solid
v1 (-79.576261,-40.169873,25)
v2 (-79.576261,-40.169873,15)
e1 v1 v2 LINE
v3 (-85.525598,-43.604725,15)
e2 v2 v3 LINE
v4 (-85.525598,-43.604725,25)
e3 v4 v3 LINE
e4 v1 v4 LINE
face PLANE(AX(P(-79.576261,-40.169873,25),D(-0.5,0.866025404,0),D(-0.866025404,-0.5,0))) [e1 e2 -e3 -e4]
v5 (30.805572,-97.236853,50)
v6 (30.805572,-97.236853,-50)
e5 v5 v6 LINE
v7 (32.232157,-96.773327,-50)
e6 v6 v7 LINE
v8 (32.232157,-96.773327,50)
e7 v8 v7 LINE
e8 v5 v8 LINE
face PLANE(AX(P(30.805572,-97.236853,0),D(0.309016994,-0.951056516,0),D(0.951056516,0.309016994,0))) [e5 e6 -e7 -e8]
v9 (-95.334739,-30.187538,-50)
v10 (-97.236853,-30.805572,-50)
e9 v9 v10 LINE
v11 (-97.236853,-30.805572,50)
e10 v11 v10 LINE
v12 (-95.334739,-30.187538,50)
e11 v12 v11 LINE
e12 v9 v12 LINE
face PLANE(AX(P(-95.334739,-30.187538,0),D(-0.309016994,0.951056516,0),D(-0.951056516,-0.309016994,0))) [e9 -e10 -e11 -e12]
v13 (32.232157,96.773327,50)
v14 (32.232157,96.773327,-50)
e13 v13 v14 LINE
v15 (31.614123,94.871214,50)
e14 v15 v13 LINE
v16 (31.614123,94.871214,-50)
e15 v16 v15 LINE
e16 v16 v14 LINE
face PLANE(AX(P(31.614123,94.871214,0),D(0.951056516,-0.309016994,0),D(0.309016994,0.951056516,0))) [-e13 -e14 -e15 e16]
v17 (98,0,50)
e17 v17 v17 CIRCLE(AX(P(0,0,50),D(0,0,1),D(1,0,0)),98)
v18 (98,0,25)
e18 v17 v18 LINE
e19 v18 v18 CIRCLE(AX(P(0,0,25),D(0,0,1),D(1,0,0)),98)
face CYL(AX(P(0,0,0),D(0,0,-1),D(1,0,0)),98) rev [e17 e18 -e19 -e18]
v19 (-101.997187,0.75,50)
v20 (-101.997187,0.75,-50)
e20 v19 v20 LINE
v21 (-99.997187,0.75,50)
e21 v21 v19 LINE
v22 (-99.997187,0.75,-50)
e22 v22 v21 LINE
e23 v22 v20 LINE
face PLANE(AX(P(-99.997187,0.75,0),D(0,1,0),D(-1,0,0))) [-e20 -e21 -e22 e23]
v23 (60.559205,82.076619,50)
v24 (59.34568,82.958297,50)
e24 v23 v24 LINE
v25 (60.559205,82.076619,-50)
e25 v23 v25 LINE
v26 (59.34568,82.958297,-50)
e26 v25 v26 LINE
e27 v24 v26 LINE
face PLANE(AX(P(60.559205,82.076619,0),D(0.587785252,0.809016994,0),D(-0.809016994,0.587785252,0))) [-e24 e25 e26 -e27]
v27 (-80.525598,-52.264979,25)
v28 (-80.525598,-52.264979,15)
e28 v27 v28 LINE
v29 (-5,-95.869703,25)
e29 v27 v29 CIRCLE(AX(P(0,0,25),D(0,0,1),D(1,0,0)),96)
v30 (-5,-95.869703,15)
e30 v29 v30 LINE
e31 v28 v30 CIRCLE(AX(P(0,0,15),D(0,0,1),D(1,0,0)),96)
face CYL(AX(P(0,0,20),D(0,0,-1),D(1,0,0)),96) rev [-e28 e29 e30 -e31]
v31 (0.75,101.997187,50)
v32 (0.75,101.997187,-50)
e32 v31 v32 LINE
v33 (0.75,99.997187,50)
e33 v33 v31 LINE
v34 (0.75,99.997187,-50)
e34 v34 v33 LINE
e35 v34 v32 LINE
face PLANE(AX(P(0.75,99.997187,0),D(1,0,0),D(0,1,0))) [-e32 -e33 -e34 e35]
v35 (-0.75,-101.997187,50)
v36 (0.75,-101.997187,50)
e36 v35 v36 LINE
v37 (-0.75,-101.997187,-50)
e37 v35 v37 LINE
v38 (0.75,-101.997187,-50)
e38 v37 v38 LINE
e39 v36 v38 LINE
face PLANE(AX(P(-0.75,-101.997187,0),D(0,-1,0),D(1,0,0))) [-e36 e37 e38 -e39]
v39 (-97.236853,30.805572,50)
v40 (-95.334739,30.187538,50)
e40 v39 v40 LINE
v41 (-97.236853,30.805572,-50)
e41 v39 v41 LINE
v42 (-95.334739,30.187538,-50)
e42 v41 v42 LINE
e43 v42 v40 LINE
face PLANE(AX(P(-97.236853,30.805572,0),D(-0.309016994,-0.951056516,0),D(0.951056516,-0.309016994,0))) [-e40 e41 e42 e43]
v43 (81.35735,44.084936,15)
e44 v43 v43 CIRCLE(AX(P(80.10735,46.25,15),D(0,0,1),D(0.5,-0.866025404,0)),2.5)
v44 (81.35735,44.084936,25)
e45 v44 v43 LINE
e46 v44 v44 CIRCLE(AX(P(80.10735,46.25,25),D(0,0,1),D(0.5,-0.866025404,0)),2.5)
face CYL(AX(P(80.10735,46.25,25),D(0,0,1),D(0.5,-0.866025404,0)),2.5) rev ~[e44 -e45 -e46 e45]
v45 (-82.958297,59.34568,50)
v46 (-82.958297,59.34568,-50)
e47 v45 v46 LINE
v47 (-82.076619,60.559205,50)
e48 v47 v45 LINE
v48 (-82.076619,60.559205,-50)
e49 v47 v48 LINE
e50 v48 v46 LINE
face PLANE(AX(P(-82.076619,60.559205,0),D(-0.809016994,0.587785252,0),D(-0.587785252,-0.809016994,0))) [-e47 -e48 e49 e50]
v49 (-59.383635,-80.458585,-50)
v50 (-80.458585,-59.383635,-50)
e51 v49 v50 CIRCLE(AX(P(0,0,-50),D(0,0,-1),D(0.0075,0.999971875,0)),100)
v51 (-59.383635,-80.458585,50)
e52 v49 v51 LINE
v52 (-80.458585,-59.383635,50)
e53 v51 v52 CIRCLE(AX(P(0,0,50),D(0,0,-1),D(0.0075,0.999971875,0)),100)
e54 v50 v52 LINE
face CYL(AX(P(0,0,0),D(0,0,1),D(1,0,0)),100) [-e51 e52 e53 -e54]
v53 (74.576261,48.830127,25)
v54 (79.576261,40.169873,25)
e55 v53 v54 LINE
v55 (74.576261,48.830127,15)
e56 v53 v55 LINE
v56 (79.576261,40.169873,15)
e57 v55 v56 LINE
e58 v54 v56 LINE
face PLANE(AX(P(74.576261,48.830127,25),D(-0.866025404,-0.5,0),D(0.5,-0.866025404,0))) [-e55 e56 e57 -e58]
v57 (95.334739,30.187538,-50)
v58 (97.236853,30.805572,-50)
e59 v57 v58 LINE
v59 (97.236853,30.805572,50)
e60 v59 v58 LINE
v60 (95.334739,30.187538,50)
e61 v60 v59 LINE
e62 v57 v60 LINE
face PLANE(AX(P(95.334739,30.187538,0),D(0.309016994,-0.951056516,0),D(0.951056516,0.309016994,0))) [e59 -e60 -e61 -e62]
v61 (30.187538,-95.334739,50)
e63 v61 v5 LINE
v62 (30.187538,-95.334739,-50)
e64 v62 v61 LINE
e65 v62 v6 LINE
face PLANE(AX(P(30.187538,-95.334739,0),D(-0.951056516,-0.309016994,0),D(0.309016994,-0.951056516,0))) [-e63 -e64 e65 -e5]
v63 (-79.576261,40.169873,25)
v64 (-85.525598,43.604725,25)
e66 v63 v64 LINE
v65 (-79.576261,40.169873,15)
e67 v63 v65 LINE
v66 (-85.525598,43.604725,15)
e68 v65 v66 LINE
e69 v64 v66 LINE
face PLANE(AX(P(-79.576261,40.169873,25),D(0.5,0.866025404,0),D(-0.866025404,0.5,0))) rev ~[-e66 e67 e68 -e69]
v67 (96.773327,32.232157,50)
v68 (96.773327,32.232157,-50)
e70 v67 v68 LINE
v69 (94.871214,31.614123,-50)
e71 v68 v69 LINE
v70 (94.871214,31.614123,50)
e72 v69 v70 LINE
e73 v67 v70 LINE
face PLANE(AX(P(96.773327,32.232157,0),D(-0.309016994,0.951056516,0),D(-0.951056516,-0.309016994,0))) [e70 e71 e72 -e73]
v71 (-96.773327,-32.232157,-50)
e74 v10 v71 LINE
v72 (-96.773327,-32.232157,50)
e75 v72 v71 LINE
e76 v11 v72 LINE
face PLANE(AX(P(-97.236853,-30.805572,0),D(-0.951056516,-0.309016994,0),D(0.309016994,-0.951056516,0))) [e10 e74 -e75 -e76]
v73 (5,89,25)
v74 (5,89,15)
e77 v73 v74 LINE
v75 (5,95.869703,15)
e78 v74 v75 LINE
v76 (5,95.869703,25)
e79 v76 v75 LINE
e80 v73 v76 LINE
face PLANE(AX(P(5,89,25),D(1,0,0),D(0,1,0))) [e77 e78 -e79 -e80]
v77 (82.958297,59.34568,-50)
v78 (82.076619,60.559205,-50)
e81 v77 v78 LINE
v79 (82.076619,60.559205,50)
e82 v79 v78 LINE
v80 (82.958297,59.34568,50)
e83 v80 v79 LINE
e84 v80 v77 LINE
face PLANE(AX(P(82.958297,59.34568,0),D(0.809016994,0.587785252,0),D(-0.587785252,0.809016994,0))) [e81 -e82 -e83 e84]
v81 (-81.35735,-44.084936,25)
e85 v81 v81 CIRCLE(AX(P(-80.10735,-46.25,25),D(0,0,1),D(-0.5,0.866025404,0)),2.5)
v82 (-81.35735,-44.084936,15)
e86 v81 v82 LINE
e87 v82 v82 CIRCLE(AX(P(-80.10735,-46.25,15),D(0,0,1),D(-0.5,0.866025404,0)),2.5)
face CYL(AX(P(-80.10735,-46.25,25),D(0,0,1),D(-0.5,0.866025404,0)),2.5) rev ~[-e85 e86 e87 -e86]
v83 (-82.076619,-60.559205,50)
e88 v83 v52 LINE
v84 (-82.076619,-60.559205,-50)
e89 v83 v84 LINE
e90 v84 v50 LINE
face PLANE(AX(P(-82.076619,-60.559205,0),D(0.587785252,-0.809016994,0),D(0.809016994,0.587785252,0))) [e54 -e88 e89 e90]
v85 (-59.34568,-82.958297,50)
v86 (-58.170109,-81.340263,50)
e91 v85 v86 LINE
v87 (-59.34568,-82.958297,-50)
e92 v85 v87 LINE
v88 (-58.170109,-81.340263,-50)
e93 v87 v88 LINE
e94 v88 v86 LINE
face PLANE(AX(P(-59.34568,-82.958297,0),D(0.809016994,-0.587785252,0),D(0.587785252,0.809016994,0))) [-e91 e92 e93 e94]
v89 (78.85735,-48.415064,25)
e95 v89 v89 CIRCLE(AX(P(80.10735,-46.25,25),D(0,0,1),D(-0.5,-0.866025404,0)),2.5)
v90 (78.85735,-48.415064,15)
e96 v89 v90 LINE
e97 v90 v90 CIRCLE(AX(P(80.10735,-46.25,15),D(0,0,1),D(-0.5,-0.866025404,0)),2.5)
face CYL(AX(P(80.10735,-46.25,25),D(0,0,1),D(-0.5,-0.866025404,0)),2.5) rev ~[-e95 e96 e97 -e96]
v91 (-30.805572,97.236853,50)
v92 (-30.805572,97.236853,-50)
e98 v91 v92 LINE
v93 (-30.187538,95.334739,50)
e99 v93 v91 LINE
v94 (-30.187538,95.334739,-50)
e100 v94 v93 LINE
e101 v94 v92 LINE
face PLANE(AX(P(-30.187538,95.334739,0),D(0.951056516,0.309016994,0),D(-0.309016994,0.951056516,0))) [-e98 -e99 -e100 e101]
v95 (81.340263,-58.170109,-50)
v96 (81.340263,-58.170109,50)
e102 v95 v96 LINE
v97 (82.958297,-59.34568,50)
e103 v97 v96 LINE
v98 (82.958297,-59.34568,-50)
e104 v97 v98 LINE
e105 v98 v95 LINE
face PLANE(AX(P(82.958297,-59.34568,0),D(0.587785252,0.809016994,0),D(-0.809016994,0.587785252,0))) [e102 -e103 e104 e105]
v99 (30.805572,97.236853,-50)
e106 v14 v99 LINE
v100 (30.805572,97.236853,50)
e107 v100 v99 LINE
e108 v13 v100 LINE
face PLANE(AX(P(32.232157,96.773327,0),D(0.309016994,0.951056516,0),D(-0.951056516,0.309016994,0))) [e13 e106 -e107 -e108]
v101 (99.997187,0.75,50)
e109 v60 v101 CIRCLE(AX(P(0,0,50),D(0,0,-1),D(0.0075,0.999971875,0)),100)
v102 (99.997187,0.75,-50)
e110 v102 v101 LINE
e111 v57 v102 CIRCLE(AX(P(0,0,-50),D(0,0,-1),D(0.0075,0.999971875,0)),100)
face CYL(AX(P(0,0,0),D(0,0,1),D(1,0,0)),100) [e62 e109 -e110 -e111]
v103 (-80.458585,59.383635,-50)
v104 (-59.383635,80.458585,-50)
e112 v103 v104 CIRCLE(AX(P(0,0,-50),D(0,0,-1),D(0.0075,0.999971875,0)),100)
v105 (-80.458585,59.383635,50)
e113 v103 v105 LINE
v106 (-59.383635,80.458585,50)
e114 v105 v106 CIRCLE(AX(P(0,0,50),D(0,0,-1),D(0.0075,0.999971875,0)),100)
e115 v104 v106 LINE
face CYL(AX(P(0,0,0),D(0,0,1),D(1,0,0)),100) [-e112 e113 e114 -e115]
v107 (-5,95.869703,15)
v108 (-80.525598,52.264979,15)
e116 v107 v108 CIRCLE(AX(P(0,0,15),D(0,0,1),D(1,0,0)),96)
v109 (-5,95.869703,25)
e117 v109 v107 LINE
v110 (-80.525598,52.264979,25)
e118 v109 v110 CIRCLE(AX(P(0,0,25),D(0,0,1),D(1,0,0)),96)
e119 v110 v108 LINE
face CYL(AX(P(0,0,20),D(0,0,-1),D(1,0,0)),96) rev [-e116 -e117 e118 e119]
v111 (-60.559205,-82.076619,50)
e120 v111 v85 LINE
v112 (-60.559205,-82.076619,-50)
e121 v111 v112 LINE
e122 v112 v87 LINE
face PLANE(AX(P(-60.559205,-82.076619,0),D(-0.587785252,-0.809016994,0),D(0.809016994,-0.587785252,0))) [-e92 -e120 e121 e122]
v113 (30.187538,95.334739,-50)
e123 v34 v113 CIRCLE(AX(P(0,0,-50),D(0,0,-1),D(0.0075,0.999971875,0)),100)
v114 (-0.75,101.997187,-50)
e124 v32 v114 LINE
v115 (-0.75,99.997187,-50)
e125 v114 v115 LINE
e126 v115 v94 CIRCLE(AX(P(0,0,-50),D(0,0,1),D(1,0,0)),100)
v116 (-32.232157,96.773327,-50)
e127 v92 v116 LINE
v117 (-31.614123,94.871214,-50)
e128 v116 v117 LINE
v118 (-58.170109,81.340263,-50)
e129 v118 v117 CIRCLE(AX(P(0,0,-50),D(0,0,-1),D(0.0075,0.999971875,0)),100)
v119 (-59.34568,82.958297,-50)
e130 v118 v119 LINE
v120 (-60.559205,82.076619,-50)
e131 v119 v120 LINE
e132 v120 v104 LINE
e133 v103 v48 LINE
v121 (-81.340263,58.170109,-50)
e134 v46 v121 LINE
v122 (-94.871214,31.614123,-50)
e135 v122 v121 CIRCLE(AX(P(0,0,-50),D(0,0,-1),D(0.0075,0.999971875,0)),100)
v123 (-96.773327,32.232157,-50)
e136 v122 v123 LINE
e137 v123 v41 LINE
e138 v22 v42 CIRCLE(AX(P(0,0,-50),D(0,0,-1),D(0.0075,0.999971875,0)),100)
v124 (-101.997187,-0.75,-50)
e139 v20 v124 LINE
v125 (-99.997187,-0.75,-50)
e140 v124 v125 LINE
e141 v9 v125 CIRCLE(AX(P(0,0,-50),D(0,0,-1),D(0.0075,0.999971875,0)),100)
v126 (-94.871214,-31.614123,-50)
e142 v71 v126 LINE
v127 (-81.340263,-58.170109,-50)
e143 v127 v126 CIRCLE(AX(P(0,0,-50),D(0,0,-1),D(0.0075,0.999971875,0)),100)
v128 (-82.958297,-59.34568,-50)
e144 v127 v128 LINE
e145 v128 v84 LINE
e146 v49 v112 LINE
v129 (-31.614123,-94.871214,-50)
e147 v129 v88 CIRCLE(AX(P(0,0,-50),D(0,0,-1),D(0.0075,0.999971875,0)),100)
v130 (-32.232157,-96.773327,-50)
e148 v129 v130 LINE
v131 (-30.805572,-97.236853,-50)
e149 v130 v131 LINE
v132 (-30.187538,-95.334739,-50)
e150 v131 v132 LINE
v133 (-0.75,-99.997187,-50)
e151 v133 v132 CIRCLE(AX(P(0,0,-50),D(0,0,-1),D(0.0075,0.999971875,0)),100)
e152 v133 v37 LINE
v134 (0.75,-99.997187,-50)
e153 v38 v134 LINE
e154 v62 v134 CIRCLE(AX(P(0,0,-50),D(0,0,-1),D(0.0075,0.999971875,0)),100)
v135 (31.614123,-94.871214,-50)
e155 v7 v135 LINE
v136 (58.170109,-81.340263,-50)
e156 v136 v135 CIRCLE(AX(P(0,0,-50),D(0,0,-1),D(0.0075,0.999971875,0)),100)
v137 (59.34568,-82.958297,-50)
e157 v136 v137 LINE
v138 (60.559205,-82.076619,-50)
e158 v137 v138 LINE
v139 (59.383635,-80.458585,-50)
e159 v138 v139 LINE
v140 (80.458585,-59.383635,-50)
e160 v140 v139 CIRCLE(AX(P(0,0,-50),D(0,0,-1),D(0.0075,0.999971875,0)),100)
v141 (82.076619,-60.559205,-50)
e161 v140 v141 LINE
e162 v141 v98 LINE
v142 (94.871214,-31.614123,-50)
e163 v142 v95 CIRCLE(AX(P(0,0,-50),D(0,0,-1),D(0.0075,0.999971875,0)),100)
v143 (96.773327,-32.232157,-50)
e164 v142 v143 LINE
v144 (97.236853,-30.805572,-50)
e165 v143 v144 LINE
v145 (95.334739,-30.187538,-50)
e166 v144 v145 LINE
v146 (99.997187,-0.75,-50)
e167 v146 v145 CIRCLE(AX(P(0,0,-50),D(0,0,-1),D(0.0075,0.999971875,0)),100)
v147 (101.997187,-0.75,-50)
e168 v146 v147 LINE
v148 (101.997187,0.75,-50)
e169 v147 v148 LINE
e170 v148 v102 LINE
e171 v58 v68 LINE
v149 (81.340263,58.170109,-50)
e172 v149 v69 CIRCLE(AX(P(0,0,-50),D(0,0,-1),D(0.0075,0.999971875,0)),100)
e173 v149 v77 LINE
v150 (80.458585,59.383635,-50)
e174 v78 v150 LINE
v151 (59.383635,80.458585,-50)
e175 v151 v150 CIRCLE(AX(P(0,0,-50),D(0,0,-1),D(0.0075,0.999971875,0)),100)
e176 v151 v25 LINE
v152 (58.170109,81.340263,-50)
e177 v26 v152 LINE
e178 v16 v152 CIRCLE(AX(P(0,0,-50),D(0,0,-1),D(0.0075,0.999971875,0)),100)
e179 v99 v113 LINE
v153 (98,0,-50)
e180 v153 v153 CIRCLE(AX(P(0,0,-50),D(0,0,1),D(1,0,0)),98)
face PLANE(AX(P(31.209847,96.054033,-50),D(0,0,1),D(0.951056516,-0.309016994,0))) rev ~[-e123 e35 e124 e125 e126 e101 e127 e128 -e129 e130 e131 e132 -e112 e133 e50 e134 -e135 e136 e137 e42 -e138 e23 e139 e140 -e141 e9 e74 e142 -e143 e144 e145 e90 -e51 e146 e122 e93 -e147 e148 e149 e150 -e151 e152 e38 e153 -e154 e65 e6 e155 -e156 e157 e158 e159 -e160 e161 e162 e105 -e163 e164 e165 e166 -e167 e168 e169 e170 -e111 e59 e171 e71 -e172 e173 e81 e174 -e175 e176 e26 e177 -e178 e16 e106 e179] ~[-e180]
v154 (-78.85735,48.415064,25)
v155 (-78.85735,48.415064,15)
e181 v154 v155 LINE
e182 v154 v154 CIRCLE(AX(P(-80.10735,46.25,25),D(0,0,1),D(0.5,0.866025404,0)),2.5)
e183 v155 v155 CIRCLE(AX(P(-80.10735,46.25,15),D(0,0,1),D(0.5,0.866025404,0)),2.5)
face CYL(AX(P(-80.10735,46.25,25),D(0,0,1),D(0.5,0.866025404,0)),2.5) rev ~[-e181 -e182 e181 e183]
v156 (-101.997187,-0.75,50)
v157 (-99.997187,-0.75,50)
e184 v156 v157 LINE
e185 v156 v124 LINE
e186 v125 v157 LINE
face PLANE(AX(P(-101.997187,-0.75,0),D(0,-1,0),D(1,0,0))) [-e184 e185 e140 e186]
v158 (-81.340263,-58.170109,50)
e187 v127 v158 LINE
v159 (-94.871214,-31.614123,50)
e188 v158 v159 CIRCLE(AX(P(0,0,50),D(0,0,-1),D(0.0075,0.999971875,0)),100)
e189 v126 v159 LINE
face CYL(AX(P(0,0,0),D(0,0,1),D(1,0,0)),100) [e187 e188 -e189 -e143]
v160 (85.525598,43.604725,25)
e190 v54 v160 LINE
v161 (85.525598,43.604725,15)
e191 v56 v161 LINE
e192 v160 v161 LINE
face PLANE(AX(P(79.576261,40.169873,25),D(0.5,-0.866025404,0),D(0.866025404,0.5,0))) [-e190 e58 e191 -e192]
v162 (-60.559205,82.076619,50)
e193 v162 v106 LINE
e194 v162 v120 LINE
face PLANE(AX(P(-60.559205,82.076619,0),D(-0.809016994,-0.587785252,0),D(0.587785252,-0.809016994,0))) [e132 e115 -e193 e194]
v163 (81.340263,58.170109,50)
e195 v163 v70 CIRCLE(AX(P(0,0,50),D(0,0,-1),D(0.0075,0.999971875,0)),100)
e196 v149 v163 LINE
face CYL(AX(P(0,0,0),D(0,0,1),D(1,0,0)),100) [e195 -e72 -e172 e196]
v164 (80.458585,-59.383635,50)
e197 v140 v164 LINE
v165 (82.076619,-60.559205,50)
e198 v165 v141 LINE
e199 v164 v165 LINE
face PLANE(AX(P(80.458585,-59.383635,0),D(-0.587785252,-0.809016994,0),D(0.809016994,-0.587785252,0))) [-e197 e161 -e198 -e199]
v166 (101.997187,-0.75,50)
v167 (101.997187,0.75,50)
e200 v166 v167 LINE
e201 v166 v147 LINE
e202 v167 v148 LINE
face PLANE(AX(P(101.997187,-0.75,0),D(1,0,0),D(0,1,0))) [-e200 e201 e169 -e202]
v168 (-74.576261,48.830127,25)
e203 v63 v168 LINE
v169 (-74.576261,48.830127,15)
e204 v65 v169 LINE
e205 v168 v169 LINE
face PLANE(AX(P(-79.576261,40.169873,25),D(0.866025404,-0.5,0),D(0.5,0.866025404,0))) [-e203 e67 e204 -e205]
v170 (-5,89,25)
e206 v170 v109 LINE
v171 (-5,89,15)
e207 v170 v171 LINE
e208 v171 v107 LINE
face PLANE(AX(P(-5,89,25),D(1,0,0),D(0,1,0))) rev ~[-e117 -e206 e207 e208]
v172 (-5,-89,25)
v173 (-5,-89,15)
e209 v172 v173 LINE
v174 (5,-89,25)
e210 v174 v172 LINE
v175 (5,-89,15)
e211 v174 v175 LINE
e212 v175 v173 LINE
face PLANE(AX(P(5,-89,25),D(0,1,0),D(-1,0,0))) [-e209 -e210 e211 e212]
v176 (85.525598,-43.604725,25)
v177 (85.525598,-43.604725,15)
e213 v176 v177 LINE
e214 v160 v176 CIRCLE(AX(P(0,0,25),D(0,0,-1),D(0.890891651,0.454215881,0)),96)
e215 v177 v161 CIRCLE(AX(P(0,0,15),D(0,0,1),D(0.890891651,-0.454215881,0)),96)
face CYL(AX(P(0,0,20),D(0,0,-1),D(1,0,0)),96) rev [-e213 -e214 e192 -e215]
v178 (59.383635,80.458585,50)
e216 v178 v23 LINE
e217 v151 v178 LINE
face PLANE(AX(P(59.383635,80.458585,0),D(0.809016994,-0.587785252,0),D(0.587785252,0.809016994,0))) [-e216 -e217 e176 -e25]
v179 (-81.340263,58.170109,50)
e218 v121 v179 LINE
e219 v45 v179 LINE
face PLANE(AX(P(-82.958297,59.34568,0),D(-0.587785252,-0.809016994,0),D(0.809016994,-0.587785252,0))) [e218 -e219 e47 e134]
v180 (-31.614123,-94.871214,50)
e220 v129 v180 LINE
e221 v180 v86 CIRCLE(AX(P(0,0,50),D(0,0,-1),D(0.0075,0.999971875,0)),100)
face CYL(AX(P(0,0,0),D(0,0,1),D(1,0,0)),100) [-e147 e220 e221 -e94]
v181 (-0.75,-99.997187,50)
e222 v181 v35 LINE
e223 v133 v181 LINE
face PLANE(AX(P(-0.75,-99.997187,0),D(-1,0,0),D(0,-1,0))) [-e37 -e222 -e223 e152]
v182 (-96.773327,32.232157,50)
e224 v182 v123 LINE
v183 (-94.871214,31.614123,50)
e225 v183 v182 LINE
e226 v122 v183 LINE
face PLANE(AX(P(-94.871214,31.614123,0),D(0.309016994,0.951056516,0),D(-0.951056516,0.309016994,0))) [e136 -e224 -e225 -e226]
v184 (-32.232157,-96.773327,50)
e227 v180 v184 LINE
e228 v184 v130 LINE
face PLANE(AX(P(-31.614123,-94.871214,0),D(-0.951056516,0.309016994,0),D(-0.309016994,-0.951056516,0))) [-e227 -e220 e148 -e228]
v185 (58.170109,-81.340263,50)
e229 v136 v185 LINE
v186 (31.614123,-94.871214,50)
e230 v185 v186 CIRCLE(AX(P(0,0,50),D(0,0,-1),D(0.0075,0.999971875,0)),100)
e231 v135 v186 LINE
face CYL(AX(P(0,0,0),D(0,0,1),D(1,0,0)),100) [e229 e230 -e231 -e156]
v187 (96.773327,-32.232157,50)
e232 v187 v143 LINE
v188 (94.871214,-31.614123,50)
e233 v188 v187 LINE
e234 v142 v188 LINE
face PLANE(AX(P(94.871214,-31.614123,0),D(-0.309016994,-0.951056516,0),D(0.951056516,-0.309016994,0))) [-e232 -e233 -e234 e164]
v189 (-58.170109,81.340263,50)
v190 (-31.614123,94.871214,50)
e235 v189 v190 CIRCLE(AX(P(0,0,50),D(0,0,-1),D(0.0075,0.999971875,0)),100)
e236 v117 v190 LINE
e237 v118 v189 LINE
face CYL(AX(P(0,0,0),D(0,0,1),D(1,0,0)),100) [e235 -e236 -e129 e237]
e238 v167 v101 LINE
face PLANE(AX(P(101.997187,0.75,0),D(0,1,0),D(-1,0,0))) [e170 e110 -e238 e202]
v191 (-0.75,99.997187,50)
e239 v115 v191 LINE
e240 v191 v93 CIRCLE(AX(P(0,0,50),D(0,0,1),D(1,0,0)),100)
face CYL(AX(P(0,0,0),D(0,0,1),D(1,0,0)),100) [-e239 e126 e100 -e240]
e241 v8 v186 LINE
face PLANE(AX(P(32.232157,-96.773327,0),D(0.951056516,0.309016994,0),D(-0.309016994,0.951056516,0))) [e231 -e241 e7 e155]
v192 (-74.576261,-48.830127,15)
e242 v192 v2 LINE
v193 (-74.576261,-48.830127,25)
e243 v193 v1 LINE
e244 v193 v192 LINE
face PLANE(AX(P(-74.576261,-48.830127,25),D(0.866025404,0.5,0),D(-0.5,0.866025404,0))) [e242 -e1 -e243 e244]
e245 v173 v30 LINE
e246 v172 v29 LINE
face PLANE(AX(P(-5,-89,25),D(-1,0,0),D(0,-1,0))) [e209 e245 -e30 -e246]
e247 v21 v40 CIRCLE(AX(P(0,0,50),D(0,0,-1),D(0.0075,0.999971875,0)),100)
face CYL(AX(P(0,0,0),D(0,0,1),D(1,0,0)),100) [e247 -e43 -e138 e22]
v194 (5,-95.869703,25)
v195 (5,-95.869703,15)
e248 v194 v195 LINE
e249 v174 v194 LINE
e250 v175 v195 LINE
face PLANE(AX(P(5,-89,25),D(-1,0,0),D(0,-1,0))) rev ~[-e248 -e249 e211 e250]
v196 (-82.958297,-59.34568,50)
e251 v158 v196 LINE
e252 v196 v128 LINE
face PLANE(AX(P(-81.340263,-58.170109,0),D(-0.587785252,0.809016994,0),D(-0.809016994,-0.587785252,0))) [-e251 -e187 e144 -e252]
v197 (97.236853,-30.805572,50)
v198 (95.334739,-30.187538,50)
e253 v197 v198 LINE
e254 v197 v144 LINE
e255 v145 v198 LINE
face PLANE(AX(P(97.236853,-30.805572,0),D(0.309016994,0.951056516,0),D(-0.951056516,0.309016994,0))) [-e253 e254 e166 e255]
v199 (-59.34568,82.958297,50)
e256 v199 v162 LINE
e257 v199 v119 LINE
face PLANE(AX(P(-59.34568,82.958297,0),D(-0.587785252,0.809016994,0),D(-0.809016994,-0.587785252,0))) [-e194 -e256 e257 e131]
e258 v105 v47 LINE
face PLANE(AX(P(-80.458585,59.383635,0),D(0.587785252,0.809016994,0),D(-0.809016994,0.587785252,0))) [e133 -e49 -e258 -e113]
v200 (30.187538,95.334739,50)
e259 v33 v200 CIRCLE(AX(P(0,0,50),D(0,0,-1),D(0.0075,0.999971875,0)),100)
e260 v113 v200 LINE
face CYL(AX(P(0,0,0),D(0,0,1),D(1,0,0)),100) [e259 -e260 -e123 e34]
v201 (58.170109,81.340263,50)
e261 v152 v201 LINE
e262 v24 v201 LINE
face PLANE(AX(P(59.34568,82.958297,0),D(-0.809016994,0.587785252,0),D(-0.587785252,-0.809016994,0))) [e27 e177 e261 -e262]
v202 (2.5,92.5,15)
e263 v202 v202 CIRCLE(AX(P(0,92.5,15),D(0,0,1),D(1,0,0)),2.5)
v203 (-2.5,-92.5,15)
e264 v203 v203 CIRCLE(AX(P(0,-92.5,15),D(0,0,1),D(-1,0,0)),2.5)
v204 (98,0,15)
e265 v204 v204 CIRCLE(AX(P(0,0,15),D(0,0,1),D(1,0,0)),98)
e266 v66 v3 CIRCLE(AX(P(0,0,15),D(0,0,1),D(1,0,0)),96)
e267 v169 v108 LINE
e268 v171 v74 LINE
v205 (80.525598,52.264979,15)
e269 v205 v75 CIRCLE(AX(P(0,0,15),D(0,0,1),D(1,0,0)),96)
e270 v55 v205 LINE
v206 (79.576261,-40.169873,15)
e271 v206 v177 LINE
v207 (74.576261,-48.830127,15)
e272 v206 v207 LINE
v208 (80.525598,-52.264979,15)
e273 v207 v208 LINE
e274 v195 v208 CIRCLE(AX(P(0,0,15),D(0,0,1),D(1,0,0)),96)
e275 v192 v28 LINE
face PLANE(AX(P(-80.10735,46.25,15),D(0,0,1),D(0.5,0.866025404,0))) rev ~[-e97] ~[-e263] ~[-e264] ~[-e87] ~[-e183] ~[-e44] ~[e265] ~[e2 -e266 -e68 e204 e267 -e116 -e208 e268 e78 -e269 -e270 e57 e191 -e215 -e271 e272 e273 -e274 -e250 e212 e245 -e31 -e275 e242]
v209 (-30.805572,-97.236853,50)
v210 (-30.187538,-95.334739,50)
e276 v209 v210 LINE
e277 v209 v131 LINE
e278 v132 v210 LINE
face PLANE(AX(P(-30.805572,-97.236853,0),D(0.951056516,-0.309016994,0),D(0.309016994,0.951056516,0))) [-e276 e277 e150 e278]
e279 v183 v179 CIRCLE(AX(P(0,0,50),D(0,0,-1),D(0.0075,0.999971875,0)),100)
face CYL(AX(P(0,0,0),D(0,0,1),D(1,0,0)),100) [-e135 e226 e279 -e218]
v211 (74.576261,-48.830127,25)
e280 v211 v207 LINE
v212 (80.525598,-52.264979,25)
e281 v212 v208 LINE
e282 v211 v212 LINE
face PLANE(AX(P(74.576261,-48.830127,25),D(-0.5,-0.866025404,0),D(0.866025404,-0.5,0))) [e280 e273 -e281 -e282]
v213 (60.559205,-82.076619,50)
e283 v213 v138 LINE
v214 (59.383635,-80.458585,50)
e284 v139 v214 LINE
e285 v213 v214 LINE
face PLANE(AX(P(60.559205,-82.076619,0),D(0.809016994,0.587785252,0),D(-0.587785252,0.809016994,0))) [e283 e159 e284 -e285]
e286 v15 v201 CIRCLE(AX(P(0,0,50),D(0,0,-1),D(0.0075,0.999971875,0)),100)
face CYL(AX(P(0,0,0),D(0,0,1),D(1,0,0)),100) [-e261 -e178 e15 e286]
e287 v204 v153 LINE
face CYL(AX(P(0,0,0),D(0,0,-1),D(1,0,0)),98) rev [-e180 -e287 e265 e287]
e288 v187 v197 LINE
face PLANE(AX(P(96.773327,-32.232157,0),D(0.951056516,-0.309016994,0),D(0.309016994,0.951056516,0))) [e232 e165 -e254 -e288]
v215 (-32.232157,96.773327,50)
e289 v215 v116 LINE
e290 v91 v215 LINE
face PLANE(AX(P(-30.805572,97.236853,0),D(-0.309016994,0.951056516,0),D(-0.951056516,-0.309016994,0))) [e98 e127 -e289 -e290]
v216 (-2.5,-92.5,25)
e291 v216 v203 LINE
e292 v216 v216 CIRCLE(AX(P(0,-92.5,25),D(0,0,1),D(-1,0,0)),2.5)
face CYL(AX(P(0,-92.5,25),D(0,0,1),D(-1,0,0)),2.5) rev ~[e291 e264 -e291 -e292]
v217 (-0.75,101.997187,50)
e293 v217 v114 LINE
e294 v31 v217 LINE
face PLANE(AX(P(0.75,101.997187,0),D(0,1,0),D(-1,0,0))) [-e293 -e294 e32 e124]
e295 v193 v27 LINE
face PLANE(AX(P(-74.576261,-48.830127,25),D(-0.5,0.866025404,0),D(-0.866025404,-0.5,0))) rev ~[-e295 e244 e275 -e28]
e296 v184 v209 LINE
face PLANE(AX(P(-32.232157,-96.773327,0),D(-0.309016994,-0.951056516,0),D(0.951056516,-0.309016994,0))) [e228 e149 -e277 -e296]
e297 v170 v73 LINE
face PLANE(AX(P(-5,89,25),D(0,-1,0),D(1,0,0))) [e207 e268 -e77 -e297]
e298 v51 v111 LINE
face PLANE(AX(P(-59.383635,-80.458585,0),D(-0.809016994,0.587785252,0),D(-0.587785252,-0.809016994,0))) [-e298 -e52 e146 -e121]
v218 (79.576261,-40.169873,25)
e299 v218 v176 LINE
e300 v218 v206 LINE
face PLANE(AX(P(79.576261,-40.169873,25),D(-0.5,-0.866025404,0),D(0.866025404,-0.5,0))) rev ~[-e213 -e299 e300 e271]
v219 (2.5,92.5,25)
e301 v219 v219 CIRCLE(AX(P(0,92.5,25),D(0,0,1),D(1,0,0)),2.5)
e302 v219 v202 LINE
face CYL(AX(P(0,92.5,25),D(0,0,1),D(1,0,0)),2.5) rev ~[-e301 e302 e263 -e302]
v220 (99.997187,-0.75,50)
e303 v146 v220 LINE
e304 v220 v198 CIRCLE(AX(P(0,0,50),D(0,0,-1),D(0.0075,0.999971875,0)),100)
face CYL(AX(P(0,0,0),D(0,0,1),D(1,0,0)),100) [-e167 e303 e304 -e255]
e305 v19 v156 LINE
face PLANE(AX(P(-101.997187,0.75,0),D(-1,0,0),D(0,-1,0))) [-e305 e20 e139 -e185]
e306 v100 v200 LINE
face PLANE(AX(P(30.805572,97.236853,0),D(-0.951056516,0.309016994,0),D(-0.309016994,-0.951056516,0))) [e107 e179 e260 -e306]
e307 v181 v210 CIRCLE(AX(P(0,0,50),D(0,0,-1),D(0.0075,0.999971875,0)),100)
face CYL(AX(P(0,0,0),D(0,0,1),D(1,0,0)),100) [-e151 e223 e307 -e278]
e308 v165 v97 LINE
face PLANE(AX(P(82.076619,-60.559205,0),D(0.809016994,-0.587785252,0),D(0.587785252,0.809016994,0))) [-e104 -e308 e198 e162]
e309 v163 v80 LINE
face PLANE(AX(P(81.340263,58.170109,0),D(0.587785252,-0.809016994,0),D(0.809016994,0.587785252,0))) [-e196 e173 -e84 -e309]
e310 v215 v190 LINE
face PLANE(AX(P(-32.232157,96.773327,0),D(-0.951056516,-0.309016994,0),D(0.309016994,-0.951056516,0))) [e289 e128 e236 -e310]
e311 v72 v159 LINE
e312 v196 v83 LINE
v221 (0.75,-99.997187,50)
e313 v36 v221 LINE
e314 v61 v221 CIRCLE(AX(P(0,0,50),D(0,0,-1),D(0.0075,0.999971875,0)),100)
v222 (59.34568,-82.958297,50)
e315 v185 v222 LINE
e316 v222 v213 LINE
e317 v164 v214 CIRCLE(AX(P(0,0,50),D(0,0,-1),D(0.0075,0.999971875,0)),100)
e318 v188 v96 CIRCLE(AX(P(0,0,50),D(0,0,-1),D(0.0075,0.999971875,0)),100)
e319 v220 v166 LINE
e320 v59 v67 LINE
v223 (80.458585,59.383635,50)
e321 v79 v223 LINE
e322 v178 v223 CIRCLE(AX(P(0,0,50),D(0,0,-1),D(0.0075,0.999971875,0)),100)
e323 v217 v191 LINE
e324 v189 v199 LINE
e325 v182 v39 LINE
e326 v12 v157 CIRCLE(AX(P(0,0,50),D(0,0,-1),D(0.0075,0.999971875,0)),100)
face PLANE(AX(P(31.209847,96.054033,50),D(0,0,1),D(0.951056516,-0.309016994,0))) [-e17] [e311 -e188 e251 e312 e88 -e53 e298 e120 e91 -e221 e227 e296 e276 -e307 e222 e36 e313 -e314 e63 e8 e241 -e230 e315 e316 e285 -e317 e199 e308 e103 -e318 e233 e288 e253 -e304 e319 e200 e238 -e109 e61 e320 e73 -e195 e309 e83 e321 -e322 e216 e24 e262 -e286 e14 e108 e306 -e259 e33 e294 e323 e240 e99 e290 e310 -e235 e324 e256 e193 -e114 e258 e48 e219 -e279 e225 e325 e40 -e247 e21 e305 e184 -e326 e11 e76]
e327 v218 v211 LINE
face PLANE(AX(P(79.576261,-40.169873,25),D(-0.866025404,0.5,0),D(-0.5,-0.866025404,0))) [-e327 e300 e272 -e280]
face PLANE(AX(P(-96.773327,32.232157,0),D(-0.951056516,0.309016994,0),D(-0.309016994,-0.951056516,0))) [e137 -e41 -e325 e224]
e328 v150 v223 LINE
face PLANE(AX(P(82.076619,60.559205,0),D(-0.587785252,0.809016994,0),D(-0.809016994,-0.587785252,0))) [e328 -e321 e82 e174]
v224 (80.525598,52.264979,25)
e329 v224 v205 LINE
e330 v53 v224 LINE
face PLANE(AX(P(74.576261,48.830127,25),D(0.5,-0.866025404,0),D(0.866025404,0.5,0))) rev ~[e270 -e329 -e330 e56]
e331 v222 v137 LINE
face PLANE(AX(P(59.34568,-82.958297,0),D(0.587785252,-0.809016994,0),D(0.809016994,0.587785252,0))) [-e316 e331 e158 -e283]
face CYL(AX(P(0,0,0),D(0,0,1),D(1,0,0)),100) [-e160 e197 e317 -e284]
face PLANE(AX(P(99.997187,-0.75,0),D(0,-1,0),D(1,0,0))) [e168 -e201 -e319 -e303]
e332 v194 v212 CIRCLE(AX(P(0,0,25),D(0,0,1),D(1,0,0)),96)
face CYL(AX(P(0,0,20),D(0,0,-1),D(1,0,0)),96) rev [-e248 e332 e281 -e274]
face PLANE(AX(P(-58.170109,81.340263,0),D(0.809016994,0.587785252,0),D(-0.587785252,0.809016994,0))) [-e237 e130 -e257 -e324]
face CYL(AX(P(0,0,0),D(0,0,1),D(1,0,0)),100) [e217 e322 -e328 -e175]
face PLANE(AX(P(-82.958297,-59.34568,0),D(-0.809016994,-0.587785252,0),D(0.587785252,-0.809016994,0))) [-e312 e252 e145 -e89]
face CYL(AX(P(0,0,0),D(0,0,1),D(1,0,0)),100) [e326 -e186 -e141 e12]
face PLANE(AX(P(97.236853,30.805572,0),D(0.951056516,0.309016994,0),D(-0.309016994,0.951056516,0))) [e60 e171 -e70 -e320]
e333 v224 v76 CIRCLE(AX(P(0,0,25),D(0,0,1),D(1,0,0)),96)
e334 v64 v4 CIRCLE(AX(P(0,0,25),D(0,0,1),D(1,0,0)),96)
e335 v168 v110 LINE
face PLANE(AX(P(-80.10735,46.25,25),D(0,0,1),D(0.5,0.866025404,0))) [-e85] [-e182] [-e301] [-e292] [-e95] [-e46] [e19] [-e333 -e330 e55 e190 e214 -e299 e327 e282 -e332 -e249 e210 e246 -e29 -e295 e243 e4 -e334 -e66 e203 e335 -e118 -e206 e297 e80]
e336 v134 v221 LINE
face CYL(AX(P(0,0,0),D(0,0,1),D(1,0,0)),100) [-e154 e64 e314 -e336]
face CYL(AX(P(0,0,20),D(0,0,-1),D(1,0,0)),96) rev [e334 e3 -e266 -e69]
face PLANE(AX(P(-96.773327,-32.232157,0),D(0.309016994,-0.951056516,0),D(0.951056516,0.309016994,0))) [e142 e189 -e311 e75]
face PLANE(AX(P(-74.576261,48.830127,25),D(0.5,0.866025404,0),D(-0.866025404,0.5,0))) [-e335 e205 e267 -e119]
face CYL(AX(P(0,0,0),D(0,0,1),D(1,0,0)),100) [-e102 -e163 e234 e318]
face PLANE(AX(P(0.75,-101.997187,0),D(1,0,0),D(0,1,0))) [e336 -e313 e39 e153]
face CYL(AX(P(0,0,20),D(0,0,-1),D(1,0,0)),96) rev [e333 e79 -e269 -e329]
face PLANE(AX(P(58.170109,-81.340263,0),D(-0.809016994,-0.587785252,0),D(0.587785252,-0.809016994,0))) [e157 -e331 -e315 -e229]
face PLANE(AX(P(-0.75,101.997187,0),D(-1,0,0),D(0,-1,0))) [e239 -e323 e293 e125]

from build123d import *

# Parameters (mm, degrees)
SKETCH2_R           = 100
SKETCH2_R_2         = 98
BOSS_EXTRUDE2_DEPTH = 50
BOSS_EXTRUDE3_DEPTH = 50
CIRPATTERN1_COUNT   = 20
SKETCH7_R           = 98
SKETCH7_R_2         = 96
BOSS_EXTRUDE5_DEPTH = 5
SKETCH14_W          = 10
SKETCH14_H          = 7
BOSS_EXTRUDE8_DEPTH = 10
SKETCH15_R          = 2.5
CUT_EXTRUDE3_DEPTH  = 10
CIRPATTERN6_COUNT   = 6


with BuildPart() as part:
    # Sketch2 → Boss-Extrude2 (new, symmetric)
    with BuildSketch(Plane.XY):
        Circle(SKETCH2_R)
        Circle(SKETCH2_R_2, mode=Mode.SUBTRACT)
    extrude(amount=BOSS_EXTRUDE2_DEPTH, both=True)

    # Sketch4 → Boss-Extrude3 (add, symmetric)
    with BuildSketch(Plane.XY):
        Polygon((0, 101.99718746), (-0.75, 101.99718746), (-0.75, 99.99718746), (0.75, 99.99718746), (0.75, 101.99718746), align=None)
    boss_extrude3 = extrude(amount=BOSS_EXTRUDE3_DEPTH, both=True)

    # CirPattern1: Boss-Extrude3 ×20 about axis
    cirpattern1_axis = Axis((0, 0, 0), (0, 0, 1))
    for i in range(1, CIRPATTERN1_COUNT):
        add(boss_extrude3.rotate(cirpattern1_axis, i * 360 / CIRPATTERN1_COUNT))

    # Sketch7 → Boss-Extrude5 (add, symmetric)
    with BuildSketch(Plane.XY.offset(20)):
        Circle(SKETCH7_R)
        Circle(SKETCH7_R_2, mode=Mode.SUBTRACT)
    extrude(amount=BOSS_EXTRUDE5_DEPTH, both=True)

    # Sketch14 → Boss-Extrude8 (add)
    with BuildSketch(Plane.XY.offset(25)):
        with Locations((0, 92.5)):
            Rectangle(SKETCH14_W, SKETCH14_H)
    boss_extrude8 = extrude(amount=-BOSS_EXTRUDE8_DEPTH)

    # Sketch15 → Cut-Extrude3 (cut)
    with BuildSketch(Plane.XY.offset(25)):
        with Locations((0, 92.5)):
            Circle(SKETCH15_R)
    cut_extrude3 = extrude(amount=-CUT_EXTRUDE3_DEPTH, mode=Mode.SUBTRACT)

    # CirPattern6: Boss-Extrude8, Cut-Extrude3 ×6 about axis
    cirpattern6_axis = Axis((0, 0, 0), (0, 0, 1))
    add([boss_extrude8.rotate(cirpattern6_axis, i * 360 / CIRPATTERN6_COUNT) for i in range(1, CIRPATTERN6_COUNT)])
    add([cut_extrude3.rotate(cirpattern6_axis, i * 360 / CIRPATTERN6_COUNT) for i in range(1, CIRPATTERN6_COUNT)], mode=Mode.SUBTRACT)


solid = part.part
